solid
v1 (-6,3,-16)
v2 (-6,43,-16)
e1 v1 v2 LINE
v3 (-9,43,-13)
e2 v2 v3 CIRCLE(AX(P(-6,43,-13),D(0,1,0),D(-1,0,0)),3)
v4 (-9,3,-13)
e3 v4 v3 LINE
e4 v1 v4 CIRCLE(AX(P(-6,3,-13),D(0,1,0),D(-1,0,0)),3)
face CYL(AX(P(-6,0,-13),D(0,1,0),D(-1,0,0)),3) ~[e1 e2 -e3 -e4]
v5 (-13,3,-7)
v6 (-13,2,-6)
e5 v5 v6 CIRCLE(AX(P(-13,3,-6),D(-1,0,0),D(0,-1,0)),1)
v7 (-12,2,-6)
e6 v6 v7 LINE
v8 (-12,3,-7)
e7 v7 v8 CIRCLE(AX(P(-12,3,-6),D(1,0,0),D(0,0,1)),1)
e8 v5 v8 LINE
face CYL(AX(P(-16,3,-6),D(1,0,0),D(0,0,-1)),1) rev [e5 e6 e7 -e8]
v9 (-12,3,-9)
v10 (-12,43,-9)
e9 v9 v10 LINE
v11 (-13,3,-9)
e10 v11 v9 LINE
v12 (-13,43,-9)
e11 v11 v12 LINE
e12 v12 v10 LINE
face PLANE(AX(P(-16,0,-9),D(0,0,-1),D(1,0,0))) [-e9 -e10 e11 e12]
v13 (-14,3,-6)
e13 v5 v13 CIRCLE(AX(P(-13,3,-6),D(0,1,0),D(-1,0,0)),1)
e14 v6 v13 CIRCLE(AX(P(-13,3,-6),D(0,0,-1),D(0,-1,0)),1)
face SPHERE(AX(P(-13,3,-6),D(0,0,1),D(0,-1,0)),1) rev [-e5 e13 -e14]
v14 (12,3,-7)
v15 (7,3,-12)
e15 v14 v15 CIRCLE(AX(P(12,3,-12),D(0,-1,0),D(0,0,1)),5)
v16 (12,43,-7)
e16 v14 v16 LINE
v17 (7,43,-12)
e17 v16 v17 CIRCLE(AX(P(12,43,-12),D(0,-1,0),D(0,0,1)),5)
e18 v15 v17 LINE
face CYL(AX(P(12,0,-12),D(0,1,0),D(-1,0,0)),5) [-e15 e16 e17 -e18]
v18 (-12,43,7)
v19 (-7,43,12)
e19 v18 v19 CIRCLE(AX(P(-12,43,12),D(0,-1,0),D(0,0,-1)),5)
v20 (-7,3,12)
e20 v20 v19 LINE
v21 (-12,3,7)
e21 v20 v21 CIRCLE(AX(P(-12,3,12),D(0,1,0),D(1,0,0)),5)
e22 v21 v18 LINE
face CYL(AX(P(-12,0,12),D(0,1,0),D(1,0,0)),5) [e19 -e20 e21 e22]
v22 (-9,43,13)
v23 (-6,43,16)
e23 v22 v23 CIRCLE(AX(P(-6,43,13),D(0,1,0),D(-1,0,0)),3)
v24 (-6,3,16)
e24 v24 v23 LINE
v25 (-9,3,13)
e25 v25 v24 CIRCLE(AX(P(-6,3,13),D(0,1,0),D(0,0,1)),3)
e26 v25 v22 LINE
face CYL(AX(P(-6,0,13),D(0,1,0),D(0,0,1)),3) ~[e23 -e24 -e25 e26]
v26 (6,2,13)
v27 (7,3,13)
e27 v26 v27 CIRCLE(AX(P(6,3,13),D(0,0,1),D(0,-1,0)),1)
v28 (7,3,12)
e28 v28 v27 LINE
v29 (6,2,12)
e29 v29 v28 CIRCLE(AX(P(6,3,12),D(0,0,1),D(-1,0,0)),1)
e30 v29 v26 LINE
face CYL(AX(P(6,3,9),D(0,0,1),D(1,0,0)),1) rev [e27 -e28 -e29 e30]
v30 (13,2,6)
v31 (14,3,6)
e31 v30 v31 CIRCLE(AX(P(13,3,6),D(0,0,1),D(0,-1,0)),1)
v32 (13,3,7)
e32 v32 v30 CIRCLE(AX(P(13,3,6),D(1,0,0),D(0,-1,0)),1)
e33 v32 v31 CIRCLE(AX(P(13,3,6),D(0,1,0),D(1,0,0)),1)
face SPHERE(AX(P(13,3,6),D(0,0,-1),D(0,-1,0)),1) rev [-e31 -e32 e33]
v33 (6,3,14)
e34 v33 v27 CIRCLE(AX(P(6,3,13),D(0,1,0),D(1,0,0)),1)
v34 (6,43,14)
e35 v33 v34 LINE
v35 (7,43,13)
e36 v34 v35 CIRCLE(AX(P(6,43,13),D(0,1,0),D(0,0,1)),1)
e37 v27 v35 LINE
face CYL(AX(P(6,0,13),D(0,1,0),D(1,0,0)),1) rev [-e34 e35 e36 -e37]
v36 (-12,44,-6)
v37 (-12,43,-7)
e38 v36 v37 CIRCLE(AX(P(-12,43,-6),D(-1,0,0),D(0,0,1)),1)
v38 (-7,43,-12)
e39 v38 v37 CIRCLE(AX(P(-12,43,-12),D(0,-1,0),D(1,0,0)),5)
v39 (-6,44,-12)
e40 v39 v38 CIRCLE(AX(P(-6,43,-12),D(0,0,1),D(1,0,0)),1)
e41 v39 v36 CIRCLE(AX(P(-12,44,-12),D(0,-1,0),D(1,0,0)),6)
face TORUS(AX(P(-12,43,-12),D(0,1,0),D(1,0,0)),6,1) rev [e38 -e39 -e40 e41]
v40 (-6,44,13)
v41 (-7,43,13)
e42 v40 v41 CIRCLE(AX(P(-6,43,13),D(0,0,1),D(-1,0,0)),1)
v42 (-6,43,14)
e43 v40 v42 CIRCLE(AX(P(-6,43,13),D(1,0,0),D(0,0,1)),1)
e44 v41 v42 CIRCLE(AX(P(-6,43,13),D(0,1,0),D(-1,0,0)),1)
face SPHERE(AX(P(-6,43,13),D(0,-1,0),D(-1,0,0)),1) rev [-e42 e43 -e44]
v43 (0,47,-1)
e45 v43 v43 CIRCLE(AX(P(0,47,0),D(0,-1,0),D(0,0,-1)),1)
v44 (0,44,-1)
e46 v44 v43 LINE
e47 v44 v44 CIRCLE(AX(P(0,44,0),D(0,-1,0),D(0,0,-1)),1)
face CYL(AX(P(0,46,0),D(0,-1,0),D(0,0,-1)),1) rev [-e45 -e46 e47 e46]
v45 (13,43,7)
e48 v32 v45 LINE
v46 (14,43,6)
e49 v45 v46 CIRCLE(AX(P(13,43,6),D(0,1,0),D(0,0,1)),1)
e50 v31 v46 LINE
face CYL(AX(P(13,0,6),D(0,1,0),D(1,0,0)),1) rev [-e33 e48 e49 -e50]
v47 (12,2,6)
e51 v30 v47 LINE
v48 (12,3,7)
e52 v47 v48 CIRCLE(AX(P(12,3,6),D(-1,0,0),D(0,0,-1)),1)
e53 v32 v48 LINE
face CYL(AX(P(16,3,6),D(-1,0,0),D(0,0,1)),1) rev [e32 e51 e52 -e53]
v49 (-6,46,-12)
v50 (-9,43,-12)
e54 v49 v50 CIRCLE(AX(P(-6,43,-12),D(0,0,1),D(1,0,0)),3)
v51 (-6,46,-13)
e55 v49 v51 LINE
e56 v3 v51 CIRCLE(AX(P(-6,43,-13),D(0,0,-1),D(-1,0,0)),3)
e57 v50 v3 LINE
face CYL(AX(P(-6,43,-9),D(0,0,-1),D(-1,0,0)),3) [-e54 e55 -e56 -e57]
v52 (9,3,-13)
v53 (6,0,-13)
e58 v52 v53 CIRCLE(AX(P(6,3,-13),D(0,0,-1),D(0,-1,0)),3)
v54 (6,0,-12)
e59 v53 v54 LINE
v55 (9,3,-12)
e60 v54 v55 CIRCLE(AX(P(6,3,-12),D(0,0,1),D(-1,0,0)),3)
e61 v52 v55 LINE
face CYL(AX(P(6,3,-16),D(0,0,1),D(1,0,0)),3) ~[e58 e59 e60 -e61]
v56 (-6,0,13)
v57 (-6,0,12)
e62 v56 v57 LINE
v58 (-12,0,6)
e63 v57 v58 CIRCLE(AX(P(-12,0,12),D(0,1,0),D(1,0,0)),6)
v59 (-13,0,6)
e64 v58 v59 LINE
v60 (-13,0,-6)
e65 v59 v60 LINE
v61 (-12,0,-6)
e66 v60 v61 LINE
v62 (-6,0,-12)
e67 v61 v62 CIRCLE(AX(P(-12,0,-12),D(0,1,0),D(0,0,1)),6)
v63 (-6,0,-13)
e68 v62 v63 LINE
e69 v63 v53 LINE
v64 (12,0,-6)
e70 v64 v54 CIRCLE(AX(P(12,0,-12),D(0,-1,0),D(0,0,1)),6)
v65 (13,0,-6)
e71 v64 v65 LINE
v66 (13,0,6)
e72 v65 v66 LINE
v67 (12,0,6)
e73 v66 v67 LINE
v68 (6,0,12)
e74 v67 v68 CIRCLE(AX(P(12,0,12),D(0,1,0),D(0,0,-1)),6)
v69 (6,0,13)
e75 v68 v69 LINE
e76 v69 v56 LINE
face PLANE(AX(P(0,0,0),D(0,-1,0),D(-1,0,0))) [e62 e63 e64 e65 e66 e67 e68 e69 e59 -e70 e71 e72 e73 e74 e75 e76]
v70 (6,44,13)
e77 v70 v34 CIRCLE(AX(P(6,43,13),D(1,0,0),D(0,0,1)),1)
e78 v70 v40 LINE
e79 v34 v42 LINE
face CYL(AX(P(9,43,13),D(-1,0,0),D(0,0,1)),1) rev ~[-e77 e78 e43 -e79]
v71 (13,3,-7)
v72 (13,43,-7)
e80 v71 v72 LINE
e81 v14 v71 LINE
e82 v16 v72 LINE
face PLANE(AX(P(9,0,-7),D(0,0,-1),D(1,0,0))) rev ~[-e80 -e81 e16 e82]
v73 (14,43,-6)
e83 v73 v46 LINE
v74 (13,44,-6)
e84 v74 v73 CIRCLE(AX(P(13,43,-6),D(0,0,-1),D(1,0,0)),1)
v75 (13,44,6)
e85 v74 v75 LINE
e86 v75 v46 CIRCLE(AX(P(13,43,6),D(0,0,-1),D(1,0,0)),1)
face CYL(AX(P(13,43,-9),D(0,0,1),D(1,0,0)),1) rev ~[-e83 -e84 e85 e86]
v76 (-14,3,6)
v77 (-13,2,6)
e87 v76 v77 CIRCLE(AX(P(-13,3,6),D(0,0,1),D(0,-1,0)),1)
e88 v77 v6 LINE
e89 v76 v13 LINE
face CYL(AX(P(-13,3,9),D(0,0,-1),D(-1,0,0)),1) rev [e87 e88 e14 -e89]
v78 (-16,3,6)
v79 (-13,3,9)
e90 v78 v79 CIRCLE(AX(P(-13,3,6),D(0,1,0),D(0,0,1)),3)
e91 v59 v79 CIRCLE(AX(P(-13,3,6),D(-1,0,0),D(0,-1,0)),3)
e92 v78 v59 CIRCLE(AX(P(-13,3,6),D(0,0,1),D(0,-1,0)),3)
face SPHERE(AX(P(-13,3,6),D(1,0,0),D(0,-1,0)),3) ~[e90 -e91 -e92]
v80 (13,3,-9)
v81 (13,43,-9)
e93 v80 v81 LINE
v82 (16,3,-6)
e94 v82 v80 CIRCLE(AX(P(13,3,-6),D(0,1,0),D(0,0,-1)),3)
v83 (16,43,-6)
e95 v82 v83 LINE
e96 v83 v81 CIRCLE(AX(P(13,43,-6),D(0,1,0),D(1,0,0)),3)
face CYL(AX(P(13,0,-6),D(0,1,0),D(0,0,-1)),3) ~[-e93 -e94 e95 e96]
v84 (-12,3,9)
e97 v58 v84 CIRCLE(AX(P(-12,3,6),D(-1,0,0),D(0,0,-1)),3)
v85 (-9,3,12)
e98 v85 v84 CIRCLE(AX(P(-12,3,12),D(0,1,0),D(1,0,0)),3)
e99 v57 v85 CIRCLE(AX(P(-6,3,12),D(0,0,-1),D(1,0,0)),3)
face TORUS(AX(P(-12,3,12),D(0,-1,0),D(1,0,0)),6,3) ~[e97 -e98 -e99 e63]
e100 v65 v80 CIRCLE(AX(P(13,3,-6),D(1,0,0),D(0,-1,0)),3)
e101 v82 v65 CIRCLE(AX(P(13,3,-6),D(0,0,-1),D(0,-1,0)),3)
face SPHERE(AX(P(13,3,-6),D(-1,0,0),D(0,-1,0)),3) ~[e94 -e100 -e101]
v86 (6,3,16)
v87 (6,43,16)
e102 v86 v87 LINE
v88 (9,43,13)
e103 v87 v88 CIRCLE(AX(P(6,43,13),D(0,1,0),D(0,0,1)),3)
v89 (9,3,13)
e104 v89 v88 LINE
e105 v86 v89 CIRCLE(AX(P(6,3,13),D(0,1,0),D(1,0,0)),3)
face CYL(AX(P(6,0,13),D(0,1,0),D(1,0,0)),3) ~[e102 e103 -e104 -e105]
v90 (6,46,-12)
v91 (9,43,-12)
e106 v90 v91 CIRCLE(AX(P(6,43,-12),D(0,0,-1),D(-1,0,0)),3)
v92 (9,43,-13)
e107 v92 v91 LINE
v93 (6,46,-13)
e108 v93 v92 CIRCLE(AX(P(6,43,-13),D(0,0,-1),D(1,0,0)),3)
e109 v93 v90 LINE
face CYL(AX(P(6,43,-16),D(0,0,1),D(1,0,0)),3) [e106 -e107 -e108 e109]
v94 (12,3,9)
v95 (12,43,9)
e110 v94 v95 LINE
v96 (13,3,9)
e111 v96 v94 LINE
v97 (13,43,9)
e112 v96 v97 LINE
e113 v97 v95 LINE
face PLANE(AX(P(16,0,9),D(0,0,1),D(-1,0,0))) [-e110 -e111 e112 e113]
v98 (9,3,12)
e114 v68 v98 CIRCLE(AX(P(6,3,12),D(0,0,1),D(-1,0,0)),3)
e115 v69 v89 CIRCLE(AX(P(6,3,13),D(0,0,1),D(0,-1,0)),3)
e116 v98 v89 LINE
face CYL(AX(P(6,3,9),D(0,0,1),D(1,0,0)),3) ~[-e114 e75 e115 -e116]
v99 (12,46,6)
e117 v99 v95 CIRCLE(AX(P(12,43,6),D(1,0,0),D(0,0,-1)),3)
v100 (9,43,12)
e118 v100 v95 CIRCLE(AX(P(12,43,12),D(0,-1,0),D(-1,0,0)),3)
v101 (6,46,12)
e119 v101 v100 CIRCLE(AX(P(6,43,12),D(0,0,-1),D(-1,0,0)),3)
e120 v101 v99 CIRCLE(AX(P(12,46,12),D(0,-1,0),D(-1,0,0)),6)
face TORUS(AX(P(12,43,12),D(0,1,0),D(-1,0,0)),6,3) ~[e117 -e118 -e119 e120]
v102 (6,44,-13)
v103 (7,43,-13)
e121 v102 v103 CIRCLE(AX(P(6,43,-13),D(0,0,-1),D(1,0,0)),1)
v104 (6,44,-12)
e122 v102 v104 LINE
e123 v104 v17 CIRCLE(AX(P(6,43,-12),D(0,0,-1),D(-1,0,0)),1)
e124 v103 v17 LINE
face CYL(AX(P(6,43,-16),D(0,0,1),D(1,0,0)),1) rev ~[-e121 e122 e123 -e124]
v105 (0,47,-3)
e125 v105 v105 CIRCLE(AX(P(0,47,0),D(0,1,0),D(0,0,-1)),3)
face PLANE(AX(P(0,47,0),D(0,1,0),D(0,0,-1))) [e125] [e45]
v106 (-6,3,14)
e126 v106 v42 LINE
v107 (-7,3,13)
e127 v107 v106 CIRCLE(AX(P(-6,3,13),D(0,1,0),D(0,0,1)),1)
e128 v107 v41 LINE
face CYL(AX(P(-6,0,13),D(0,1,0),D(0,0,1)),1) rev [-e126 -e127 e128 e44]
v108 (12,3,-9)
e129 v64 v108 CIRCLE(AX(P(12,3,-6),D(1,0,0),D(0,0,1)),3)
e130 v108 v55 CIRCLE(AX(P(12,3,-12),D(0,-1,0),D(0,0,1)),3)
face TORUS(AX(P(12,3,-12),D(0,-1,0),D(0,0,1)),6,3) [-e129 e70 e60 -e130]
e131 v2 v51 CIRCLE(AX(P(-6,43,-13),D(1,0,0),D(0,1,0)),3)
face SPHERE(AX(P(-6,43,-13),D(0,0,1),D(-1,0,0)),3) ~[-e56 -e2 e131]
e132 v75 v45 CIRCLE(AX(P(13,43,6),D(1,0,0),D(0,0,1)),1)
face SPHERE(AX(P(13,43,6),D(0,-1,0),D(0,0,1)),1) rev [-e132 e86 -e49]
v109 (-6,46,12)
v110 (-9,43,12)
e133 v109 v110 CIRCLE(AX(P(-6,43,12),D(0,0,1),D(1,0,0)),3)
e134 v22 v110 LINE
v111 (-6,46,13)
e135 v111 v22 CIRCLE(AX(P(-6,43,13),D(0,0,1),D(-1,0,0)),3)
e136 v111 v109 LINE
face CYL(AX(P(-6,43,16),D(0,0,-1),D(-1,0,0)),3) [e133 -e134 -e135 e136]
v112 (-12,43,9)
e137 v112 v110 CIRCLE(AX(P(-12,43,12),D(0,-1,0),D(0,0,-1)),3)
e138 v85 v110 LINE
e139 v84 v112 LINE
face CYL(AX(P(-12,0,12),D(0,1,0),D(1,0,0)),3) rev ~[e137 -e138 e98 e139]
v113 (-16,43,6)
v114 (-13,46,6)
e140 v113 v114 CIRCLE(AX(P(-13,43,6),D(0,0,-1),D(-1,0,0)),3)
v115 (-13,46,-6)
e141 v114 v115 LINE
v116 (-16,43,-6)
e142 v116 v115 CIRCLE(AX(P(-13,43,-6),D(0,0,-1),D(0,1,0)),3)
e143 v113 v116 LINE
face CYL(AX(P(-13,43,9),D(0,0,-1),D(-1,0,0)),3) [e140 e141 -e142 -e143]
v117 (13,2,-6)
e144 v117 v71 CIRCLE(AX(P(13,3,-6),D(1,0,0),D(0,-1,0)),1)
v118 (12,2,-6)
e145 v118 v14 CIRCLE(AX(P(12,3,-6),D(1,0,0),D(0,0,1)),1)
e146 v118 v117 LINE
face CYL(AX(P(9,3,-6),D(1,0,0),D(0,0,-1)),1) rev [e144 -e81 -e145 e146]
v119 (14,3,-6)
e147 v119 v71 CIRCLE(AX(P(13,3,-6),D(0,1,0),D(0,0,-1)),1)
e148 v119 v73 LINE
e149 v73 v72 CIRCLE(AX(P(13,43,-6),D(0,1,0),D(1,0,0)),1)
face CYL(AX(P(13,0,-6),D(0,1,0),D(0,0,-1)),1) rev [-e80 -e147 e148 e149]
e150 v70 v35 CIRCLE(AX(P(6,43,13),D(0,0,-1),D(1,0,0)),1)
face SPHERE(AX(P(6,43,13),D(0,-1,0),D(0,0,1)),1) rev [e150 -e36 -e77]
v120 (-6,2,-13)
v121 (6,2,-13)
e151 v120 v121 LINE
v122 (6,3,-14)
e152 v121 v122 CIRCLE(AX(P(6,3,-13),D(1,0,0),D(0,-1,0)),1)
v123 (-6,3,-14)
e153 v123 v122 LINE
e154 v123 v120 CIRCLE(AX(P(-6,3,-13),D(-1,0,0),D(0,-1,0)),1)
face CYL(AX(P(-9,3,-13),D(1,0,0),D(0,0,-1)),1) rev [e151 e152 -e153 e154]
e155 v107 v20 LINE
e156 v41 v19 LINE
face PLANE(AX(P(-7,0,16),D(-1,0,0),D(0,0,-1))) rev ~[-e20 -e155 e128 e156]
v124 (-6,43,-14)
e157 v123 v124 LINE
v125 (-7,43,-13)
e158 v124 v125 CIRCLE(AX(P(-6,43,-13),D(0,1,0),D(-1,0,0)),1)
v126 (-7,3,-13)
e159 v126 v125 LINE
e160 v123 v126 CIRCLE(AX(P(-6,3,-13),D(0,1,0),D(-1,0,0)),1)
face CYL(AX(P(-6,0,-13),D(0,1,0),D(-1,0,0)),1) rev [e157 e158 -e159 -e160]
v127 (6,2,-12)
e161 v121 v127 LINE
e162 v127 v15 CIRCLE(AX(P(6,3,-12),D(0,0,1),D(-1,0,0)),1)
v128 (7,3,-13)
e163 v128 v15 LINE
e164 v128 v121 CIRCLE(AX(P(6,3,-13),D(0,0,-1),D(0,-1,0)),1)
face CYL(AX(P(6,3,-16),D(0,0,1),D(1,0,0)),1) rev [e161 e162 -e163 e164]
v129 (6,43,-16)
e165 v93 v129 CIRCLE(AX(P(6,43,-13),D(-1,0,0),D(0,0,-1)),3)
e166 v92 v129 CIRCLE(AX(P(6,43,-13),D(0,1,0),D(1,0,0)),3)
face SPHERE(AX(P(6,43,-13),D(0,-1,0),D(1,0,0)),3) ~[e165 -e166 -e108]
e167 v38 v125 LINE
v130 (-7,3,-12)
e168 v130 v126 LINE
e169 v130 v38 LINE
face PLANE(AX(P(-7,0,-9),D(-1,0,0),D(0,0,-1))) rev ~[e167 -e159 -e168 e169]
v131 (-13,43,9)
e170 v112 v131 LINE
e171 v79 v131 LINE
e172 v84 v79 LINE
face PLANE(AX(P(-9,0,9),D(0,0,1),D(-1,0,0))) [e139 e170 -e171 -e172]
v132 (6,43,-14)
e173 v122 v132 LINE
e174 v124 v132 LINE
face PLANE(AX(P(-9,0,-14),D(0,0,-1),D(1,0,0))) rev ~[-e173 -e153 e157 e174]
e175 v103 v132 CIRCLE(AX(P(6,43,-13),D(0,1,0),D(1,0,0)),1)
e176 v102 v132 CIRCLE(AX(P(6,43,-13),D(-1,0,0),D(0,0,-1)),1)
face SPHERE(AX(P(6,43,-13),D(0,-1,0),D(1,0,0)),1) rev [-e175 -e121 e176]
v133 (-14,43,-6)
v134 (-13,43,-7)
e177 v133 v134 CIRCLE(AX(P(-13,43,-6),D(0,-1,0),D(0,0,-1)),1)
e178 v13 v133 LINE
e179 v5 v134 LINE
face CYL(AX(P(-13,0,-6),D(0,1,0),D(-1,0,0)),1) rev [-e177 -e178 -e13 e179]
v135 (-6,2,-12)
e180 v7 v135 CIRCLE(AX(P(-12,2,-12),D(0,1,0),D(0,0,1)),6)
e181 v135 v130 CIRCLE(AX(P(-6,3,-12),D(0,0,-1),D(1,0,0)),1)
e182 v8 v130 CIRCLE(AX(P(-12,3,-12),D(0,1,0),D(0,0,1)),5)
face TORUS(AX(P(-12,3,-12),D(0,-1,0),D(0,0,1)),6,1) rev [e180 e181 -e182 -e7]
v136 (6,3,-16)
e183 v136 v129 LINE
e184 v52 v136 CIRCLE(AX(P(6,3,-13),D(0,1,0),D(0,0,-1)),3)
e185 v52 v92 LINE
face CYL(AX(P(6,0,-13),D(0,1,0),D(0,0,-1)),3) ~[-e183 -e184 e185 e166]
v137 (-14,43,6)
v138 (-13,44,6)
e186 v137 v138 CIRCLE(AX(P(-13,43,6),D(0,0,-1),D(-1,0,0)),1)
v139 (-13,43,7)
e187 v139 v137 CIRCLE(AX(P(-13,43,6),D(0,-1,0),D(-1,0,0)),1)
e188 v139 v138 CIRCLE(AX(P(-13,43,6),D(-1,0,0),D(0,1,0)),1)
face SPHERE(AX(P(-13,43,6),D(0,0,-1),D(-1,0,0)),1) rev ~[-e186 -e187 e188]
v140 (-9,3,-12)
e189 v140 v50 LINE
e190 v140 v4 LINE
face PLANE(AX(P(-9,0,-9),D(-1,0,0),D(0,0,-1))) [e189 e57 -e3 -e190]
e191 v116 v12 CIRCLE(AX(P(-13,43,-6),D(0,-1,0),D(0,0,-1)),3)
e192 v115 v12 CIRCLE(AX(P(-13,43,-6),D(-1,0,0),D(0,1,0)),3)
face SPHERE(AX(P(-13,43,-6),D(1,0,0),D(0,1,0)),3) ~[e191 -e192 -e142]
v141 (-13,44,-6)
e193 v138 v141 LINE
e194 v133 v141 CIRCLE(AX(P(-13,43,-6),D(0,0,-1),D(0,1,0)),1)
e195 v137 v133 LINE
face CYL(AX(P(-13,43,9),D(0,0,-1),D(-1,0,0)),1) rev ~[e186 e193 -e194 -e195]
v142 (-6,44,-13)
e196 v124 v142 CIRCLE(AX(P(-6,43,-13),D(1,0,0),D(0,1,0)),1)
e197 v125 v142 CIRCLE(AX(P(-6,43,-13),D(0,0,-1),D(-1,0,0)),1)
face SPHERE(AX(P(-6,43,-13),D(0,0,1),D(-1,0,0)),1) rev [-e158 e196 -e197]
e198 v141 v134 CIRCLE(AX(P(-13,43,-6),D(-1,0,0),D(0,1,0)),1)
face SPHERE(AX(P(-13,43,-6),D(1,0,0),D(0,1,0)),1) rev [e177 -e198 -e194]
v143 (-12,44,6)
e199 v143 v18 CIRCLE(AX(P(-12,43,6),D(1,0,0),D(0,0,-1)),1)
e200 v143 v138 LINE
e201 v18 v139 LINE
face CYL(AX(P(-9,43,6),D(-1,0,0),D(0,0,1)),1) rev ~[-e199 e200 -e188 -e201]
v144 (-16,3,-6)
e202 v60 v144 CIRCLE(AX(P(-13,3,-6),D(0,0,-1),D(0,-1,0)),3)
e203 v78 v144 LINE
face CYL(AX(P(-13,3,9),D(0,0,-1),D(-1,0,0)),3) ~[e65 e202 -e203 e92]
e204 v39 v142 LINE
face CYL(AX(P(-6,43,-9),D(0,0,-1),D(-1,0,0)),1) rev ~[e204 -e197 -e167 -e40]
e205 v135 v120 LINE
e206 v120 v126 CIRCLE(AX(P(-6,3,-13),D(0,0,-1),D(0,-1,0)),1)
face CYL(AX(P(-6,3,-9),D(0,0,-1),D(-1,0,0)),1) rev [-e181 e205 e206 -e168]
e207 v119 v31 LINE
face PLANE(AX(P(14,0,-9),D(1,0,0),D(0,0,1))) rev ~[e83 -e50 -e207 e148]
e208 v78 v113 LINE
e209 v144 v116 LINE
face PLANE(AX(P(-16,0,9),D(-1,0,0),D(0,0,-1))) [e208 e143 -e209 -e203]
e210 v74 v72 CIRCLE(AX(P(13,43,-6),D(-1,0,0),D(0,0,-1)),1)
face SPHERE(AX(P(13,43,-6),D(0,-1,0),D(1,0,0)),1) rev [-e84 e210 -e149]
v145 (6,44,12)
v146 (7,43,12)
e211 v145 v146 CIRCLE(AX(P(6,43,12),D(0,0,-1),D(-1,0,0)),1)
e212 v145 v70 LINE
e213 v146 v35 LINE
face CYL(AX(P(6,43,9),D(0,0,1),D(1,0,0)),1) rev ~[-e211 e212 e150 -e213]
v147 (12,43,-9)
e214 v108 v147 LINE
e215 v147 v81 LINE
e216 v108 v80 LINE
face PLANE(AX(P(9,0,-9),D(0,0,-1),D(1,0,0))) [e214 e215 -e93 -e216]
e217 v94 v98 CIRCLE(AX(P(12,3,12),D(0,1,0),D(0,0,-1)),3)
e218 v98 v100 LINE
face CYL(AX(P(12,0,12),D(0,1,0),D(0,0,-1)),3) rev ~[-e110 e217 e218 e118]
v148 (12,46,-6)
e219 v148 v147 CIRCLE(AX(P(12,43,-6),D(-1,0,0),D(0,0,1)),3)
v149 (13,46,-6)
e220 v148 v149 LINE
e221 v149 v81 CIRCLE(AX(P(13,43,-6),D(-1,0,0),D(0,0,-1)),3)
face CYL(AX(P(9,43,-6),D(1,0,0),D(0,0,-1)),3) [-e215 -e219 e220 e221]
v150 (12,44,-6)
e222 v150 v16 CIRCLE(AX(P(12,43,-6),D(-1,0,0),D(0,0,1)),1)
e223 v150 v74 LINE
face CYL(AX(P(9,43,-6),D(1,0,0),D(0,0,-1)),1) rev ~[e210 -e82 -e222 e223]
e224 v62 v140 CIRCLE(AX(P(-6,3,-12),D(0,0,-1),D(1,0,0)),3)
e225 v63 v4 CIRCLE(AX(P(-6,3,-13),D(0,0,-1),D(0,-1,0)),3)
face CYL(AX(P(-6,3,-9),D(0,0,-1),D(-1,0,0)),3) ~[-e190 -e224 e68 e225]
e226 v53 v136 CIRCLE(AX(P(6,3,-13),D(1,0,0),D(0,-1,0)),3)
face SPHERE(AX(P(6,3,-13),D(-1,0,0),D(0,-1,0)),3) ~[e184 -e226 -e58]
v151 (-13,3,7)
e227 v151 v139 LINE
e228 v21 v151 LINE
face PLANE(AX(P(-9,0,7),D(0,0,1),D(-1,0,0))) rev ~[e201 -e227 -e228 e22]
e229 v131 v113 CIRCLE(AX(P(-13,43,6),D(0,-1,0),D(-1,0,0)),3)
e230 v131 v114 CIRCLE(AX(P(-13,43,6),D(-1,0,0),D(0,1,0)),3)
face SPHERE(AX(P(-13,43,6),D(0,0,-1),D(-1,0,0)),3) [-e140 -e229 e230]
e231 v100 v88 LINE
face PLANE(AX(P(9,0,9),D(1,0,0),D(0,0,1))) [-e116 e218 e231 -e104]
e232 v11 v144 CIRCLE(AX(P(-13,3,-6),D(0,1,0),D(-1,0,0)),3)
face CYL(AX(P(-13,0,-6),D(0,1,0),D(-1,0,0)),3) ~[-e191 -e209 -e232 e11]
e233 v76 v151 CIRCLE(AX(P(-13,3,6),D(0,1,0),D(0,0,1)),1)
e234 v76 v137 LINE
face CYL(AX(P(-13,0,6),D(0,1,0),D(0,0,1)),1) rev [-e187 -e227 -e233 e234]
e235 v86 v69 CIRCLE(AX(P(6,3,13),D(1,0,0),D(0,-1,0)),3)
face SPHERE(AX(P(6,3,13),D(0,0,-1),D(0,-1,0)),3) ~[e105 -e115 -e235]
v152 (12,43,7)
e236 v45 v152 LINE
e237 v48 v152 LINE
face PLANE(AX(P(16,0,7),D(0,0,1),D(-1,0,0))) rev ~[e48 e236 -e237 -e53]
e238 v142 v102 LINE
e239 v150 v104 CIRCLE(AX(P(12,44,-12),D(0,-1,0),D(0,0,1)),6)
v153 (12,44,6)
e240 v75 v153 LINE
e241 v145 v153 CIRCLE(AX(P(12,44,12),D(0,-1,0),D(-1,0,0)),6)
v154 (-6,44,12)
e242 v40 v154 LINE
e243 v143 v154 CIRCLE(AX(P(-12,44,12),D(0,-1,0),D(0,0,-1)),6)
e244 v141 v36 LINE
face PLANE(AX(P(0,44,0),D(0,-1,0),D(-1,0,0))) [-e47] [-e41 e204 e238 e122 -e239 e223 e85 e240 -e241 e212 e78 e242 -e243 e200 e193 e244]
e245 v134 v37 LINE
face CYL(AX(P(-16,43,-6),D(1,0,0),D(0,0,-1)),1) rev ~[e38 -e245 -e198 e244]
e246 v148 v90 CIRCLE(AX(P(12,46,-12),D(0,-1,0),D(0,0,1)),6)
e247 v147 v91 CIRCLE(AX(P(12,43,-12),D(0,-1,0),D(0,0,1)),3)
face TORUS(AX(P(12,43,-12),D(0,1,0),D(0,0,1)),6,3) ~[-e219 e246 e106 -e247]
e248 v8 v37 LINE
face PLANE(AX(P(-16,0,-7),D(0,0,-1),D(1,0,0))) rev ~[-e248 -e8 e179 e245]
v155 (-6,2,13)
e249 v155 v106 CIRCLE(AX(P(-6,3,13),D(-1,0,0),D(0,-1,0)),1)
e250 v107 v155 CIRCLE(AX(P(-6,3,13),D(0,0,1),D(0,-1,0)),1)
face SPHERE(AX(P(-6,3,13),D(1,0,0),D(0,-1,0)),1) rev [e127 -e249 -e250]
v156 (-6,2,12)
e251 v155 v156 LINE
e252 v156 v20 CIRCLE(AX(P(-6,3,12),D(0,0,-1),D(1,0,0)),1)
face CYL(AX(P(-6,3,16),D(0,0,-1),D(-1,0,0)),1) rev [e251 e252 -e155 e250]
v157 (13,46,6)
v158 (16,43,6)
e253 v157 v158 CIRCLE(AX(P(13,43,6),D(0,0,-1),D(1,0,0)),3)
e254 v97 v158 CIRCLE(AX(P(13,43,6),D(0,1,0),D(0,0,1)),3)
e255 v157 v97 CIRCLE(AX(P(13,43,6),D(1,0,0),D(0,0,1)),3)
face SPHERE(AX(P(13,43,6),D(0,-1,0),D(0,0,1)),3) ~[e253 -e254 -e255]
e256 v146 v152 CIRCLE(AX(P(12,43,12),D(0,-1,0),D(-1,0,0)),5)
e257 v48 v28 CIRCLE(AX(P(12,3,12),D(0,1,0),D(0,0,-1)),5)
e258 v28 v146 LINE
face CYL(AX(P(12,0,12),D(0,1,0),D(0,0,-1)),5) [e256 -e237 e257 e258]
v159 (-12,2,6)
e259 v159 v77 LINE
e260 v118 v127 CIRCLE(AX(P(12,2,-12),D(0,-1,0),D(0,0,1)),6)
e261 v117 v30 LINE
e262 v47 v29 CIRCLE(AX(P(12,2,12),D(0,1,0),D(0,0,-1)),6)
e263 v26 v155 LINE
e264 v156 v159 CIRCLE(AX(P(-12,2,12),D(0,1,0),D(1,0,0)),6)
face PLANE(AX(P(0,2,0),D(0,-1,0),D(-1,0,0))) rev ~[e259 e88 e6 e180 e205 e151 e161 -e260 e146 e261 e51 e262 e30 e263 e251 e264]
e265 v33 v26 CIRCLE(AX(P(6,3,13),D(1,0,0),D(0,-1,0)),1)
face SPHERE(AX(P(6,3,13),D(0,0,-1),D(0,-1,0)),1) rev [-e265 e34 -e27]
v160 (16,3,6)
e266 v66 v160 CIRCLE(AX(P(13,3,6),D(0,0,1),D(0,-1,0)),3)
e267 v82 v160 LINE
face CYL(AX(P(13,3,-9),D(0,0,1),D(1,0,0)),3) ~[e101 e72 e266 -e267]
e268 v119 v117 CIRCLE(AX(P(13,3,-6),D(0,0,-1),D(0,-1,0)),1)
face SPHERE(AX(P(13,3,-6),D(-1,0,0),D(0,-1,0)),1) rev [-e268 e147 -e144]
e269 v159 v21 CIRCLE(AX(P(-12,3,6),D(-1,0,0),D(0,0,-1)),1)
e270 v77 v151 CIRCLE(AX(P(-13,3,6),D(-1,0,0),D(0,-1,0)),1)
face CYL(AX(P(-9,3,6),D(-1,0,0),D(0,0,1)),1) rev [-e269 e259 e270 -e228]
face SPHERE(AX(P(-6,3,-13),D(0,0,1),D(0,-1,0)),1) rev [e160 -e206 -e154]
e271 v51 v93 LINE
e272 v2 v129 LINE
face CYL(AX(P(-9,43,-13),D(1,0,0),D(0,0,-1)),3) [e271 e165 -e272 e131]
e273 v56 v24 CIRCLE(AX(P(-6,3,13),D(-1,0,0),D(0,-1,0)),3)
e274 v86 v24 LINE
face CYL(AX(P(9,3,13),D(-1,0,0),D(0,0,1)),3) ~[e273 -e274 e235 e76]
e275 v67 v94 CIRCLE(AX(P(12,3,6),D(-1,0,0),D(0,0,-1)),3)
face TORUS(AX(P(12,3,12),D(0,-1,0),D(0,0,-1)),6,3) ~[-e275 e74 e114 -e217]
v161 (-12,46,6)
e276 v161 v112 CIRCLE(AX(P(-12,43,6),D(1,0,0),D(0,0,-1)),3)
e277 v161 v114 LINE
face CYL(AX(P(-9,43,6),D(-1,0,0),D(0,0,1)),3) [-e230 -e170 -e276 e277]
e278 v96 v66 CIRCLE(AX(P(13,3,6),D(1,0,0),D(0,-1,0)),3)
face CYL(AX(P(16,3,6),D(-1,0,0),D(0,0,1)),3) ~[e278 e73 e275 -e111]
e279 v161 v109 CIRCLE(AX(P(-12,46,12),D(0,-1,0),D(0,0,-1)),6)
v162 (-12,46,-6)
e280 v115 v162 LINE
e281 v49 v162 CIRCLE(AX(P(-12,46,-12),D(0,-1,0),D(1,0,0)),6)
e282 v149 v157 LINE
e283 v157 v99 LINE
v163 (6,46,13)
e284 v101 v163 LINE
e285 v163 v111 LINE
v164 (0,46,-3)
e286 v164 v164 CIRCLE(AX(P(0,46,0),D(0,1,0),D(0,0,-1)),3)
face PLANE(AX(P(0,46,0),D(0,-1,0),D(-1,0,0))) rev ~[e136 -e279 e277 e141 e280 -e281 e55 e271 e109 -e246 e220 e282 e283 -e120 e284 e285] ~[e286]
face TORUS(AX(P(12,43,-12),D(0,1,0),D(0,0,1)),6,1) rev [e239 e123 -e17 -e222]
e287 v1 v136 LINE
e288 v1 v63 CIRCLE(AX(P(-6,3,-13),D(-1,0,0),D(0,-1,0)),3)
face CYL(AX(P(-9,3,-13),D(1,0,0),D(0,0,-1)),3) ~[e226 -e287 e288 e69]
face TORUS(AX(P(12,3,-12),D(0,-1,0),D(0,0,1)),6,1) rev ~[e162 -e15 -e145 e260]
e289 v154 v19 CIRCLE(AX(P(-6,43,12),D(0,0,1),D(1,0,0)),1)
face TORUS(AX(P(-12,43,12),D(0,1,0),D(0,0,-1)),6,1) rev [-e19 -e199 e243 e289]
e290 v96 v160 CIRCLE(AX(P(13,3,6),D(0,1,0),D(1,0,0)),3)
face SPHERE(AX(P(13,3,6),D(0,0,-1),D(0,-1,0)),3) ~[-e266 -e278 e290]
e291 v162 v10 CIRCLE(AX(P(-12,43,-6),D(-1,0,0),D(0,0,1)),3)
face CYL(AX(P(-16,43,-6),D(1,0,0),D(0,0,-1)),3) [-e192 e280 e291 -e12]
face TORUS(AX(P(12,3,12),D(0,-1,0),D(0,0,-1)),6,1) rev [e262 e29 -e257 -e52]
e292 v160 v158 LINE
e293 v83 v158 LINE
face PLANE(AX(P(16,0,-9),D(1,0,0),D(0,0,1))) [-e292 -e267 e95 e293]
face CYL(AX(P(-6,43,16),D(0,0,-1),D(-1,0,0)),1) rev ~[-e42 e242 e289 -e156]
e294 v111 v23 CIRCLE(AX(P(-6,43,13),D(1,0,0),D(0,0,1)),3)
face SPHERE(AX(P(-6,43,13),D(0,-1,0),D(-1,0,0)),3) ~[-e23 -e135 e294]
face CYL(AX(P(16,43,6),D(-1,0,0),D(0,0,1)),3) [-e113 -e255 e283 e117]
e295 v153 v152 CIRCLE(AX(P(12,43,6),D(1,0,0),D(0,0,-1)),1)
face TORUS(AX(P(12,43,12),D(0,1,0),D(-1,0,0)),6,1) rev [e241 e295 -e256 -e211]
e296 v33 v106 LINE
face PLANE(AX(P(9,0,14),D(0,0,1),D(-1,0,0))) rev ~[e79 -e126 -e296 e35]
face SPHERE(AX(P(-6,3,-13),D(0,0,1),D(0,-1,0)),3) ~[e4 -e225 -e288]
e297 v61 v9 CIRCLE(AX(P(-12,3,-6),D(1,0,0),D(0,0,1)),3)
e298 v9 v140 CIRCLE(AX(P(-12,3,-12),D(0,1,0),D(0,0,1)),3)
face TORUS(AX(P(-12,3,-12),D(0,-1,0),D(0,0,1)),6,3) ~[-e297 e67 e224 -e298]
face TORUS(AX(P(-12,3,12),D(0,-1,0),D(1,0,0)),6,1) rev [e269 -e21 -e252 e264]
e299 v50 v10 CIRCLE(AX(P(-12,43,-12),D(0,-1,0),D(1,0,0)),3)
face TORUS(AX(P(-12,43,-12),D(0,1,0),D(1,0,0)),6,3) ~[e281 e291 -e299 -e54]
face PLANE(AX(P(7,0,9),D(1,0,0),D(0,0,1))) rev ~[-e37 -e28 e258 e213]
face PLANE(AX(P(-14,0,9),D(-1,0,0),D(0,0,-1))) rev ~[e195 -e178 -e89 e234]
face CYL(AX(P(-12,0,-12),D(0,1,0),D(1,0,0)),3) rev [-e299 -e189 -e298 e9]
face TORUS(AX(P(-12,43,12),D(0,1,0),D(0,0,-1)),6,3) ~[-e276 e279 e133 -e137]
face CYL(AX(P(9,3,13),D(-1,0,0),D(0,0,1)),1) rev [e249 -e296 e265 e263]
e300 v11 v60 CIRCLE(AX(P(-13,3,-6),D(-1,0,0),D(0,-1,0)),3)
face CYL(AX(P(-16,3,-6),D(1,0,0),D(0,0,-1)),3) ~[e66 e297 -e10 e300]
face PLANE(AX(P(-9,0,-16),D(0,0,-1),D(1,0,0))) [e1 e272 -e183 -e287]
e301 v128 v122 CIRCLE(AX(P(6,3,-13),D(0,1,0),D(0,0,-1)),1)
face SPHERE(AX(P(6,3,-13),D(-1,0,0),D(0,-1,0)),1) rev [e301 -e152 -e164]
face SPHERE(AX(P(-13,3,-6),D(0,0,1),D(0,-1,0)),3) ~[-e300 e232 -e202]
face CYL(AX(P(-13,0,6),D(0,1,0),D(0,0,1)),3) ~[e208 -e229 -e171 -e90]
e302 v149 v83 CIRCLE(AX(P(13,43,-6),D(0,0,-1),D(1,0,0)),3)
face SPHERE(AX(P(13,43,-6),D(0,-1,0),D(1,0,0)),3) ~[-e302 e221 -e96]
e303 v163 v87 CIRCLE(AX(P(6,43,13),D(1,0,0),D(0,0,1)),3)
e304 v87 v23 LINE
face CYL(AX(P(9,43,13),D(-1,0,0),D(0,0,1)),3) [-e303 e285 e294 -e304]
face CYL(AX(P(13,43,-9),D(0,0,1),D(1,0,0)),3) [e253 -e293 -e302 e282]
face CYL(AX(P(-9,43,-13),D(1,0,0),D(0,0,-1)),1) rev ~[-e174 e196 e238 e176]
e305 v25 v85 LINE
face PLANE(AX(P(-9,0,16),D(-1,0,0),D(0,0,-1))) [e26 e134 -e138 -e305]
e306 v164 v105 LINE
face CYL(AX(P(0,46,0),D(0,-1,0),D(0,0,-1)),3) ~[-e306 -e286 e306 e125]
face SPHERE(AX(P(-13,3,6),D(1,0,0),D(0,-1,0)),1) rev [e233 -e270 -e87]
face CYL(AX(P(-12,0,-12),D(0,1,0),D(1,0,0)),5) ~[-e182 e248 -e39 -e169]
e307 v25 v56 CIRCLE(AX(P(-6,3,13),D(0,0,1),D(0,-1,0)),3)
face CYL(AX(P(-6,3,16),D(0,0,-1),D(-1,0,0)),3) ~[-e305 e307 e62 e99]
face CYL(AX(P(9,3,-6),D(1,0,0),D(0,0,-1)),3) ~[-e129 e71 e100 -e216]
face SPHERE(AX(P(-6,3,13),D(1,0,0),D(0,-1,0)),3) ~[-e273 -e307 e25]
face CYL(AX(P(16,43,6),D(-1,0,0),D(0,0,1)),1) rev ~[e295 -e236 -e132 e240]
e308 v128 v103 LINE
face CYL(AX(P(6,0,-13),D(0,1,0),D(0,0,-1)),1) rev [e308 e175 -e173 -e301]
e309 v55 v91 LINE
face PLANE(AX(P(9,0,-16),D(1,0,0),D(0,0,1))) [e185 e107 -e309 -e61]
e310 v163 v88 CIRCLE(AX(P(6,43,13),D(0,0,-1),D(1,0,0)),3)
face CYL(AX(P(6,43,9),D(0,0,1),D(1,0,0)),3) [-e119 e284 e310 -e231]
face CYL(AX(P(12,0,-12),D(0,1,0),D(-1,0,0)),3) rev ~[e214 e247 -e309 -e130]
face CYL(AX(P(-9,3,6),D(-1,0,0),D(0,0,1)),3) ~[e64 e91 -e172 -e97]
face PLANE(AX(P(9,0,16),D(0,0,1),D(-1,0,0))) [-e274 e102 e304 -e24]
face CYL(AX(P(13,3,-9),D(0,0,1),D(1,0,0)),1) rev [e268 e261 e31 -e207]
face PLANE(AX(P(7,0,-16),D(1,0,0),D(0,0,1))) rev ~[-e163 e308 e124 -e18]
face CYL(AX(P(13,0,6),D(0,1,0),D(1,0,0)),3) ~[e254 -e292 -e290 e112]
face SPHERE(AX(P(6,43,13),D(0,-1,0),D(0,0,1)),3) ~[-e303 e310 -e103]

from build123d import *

# Parameters (mm, degrees)
BOSS_EXTRUDE1_DEPTH = 46
FILLET1_R           = 3
SKETCH2_R           = 3
BOSS_EXTRUDE2_DEPTH = 1
SHELL1_T            = -2


with BuildPart() as part:
    # Sketch1 → Boss-Extrude1 (new body)
    with BuildSketch(Plane(origin=(0, 0, 0), x_dir=(1, 0, 0), z_dir=(0, 1, 0))):
        Polygon((-9, 9), (-9, 16), (9, 16), (9, 9), (16, 9), (16, -9), (9, -9), (9, -16), (-9, -16), (-9, -9), (-16, -9), (-16, 9), align=None)
    extrude(amount=BOSS_EXTRUDE1_DEPTH)

    # Fillet1
    fillet1_edges = [part.edges().sort_by_distance(p)[0] for p in [
        (12.5, 0, -9),
        (16, 0, 0),
        (-9, 46, -12.5),
        (12.5, 0, 9),
        (9, 0, 12.5),
        (0, 0, 16),
        (-9, 0, 12.5),
        (-12.5, 0, 9),
        (-16, 0, 0),
        (-12.5, 0, -9),
        (-9, 0, -12.5),
        (0, 0, -16),
        (9, 0, -12.5),
        (-12.5, 46, -9),
        (9, 23, -9),
        (16, 23, -9),
        (16, 23, 9),
        (-16, 46, 0),
        (9, 23, 9),
        (9, 23, 16),
        (-9, 23, 16),
        (-9, 23, 9),
        (-16, 23, 9),
        (-16, 23, -9),
        (-9, 23, -9),
        (-9, 23, -16),
        (9, 23, -16),
        (-12.5, 46, 9),
        (-9, 46, 12.5),
        (0, 46, 16),
        (9, 46, 12.5),
        (12.5, 46, 9),
        (16, 46, 0),
        (12.5, 46, -9),
        (9, 46, -12.5),
        (0, 46, -16),
    ]]
    fillet(fillet1_edges, radius=FILLET1_R)

    # Sketch2 → Boss-Extrude2 (add)
    with BuildSketch(Plane(origin=(0, 46, 0), x_dir=(1, 0, 0), z_dir=(0, 1, 0))):
        with Locations(Location((0, 0, 0), (0, 0, 90))):
            Circle(SKETCH2_R)
    extrude(amount=BOSS_EXTRUDE2_DEPTH)

    # Shell1
    shell1_openings = [part.faces().sort_by_distance(p)[0] for p in [
        (0, 47, 0),
    ]]
    offset(amount=SHELL1_T, openings=shell1_openings, kind=Kind.INTERSECTION)


solid = part.part
